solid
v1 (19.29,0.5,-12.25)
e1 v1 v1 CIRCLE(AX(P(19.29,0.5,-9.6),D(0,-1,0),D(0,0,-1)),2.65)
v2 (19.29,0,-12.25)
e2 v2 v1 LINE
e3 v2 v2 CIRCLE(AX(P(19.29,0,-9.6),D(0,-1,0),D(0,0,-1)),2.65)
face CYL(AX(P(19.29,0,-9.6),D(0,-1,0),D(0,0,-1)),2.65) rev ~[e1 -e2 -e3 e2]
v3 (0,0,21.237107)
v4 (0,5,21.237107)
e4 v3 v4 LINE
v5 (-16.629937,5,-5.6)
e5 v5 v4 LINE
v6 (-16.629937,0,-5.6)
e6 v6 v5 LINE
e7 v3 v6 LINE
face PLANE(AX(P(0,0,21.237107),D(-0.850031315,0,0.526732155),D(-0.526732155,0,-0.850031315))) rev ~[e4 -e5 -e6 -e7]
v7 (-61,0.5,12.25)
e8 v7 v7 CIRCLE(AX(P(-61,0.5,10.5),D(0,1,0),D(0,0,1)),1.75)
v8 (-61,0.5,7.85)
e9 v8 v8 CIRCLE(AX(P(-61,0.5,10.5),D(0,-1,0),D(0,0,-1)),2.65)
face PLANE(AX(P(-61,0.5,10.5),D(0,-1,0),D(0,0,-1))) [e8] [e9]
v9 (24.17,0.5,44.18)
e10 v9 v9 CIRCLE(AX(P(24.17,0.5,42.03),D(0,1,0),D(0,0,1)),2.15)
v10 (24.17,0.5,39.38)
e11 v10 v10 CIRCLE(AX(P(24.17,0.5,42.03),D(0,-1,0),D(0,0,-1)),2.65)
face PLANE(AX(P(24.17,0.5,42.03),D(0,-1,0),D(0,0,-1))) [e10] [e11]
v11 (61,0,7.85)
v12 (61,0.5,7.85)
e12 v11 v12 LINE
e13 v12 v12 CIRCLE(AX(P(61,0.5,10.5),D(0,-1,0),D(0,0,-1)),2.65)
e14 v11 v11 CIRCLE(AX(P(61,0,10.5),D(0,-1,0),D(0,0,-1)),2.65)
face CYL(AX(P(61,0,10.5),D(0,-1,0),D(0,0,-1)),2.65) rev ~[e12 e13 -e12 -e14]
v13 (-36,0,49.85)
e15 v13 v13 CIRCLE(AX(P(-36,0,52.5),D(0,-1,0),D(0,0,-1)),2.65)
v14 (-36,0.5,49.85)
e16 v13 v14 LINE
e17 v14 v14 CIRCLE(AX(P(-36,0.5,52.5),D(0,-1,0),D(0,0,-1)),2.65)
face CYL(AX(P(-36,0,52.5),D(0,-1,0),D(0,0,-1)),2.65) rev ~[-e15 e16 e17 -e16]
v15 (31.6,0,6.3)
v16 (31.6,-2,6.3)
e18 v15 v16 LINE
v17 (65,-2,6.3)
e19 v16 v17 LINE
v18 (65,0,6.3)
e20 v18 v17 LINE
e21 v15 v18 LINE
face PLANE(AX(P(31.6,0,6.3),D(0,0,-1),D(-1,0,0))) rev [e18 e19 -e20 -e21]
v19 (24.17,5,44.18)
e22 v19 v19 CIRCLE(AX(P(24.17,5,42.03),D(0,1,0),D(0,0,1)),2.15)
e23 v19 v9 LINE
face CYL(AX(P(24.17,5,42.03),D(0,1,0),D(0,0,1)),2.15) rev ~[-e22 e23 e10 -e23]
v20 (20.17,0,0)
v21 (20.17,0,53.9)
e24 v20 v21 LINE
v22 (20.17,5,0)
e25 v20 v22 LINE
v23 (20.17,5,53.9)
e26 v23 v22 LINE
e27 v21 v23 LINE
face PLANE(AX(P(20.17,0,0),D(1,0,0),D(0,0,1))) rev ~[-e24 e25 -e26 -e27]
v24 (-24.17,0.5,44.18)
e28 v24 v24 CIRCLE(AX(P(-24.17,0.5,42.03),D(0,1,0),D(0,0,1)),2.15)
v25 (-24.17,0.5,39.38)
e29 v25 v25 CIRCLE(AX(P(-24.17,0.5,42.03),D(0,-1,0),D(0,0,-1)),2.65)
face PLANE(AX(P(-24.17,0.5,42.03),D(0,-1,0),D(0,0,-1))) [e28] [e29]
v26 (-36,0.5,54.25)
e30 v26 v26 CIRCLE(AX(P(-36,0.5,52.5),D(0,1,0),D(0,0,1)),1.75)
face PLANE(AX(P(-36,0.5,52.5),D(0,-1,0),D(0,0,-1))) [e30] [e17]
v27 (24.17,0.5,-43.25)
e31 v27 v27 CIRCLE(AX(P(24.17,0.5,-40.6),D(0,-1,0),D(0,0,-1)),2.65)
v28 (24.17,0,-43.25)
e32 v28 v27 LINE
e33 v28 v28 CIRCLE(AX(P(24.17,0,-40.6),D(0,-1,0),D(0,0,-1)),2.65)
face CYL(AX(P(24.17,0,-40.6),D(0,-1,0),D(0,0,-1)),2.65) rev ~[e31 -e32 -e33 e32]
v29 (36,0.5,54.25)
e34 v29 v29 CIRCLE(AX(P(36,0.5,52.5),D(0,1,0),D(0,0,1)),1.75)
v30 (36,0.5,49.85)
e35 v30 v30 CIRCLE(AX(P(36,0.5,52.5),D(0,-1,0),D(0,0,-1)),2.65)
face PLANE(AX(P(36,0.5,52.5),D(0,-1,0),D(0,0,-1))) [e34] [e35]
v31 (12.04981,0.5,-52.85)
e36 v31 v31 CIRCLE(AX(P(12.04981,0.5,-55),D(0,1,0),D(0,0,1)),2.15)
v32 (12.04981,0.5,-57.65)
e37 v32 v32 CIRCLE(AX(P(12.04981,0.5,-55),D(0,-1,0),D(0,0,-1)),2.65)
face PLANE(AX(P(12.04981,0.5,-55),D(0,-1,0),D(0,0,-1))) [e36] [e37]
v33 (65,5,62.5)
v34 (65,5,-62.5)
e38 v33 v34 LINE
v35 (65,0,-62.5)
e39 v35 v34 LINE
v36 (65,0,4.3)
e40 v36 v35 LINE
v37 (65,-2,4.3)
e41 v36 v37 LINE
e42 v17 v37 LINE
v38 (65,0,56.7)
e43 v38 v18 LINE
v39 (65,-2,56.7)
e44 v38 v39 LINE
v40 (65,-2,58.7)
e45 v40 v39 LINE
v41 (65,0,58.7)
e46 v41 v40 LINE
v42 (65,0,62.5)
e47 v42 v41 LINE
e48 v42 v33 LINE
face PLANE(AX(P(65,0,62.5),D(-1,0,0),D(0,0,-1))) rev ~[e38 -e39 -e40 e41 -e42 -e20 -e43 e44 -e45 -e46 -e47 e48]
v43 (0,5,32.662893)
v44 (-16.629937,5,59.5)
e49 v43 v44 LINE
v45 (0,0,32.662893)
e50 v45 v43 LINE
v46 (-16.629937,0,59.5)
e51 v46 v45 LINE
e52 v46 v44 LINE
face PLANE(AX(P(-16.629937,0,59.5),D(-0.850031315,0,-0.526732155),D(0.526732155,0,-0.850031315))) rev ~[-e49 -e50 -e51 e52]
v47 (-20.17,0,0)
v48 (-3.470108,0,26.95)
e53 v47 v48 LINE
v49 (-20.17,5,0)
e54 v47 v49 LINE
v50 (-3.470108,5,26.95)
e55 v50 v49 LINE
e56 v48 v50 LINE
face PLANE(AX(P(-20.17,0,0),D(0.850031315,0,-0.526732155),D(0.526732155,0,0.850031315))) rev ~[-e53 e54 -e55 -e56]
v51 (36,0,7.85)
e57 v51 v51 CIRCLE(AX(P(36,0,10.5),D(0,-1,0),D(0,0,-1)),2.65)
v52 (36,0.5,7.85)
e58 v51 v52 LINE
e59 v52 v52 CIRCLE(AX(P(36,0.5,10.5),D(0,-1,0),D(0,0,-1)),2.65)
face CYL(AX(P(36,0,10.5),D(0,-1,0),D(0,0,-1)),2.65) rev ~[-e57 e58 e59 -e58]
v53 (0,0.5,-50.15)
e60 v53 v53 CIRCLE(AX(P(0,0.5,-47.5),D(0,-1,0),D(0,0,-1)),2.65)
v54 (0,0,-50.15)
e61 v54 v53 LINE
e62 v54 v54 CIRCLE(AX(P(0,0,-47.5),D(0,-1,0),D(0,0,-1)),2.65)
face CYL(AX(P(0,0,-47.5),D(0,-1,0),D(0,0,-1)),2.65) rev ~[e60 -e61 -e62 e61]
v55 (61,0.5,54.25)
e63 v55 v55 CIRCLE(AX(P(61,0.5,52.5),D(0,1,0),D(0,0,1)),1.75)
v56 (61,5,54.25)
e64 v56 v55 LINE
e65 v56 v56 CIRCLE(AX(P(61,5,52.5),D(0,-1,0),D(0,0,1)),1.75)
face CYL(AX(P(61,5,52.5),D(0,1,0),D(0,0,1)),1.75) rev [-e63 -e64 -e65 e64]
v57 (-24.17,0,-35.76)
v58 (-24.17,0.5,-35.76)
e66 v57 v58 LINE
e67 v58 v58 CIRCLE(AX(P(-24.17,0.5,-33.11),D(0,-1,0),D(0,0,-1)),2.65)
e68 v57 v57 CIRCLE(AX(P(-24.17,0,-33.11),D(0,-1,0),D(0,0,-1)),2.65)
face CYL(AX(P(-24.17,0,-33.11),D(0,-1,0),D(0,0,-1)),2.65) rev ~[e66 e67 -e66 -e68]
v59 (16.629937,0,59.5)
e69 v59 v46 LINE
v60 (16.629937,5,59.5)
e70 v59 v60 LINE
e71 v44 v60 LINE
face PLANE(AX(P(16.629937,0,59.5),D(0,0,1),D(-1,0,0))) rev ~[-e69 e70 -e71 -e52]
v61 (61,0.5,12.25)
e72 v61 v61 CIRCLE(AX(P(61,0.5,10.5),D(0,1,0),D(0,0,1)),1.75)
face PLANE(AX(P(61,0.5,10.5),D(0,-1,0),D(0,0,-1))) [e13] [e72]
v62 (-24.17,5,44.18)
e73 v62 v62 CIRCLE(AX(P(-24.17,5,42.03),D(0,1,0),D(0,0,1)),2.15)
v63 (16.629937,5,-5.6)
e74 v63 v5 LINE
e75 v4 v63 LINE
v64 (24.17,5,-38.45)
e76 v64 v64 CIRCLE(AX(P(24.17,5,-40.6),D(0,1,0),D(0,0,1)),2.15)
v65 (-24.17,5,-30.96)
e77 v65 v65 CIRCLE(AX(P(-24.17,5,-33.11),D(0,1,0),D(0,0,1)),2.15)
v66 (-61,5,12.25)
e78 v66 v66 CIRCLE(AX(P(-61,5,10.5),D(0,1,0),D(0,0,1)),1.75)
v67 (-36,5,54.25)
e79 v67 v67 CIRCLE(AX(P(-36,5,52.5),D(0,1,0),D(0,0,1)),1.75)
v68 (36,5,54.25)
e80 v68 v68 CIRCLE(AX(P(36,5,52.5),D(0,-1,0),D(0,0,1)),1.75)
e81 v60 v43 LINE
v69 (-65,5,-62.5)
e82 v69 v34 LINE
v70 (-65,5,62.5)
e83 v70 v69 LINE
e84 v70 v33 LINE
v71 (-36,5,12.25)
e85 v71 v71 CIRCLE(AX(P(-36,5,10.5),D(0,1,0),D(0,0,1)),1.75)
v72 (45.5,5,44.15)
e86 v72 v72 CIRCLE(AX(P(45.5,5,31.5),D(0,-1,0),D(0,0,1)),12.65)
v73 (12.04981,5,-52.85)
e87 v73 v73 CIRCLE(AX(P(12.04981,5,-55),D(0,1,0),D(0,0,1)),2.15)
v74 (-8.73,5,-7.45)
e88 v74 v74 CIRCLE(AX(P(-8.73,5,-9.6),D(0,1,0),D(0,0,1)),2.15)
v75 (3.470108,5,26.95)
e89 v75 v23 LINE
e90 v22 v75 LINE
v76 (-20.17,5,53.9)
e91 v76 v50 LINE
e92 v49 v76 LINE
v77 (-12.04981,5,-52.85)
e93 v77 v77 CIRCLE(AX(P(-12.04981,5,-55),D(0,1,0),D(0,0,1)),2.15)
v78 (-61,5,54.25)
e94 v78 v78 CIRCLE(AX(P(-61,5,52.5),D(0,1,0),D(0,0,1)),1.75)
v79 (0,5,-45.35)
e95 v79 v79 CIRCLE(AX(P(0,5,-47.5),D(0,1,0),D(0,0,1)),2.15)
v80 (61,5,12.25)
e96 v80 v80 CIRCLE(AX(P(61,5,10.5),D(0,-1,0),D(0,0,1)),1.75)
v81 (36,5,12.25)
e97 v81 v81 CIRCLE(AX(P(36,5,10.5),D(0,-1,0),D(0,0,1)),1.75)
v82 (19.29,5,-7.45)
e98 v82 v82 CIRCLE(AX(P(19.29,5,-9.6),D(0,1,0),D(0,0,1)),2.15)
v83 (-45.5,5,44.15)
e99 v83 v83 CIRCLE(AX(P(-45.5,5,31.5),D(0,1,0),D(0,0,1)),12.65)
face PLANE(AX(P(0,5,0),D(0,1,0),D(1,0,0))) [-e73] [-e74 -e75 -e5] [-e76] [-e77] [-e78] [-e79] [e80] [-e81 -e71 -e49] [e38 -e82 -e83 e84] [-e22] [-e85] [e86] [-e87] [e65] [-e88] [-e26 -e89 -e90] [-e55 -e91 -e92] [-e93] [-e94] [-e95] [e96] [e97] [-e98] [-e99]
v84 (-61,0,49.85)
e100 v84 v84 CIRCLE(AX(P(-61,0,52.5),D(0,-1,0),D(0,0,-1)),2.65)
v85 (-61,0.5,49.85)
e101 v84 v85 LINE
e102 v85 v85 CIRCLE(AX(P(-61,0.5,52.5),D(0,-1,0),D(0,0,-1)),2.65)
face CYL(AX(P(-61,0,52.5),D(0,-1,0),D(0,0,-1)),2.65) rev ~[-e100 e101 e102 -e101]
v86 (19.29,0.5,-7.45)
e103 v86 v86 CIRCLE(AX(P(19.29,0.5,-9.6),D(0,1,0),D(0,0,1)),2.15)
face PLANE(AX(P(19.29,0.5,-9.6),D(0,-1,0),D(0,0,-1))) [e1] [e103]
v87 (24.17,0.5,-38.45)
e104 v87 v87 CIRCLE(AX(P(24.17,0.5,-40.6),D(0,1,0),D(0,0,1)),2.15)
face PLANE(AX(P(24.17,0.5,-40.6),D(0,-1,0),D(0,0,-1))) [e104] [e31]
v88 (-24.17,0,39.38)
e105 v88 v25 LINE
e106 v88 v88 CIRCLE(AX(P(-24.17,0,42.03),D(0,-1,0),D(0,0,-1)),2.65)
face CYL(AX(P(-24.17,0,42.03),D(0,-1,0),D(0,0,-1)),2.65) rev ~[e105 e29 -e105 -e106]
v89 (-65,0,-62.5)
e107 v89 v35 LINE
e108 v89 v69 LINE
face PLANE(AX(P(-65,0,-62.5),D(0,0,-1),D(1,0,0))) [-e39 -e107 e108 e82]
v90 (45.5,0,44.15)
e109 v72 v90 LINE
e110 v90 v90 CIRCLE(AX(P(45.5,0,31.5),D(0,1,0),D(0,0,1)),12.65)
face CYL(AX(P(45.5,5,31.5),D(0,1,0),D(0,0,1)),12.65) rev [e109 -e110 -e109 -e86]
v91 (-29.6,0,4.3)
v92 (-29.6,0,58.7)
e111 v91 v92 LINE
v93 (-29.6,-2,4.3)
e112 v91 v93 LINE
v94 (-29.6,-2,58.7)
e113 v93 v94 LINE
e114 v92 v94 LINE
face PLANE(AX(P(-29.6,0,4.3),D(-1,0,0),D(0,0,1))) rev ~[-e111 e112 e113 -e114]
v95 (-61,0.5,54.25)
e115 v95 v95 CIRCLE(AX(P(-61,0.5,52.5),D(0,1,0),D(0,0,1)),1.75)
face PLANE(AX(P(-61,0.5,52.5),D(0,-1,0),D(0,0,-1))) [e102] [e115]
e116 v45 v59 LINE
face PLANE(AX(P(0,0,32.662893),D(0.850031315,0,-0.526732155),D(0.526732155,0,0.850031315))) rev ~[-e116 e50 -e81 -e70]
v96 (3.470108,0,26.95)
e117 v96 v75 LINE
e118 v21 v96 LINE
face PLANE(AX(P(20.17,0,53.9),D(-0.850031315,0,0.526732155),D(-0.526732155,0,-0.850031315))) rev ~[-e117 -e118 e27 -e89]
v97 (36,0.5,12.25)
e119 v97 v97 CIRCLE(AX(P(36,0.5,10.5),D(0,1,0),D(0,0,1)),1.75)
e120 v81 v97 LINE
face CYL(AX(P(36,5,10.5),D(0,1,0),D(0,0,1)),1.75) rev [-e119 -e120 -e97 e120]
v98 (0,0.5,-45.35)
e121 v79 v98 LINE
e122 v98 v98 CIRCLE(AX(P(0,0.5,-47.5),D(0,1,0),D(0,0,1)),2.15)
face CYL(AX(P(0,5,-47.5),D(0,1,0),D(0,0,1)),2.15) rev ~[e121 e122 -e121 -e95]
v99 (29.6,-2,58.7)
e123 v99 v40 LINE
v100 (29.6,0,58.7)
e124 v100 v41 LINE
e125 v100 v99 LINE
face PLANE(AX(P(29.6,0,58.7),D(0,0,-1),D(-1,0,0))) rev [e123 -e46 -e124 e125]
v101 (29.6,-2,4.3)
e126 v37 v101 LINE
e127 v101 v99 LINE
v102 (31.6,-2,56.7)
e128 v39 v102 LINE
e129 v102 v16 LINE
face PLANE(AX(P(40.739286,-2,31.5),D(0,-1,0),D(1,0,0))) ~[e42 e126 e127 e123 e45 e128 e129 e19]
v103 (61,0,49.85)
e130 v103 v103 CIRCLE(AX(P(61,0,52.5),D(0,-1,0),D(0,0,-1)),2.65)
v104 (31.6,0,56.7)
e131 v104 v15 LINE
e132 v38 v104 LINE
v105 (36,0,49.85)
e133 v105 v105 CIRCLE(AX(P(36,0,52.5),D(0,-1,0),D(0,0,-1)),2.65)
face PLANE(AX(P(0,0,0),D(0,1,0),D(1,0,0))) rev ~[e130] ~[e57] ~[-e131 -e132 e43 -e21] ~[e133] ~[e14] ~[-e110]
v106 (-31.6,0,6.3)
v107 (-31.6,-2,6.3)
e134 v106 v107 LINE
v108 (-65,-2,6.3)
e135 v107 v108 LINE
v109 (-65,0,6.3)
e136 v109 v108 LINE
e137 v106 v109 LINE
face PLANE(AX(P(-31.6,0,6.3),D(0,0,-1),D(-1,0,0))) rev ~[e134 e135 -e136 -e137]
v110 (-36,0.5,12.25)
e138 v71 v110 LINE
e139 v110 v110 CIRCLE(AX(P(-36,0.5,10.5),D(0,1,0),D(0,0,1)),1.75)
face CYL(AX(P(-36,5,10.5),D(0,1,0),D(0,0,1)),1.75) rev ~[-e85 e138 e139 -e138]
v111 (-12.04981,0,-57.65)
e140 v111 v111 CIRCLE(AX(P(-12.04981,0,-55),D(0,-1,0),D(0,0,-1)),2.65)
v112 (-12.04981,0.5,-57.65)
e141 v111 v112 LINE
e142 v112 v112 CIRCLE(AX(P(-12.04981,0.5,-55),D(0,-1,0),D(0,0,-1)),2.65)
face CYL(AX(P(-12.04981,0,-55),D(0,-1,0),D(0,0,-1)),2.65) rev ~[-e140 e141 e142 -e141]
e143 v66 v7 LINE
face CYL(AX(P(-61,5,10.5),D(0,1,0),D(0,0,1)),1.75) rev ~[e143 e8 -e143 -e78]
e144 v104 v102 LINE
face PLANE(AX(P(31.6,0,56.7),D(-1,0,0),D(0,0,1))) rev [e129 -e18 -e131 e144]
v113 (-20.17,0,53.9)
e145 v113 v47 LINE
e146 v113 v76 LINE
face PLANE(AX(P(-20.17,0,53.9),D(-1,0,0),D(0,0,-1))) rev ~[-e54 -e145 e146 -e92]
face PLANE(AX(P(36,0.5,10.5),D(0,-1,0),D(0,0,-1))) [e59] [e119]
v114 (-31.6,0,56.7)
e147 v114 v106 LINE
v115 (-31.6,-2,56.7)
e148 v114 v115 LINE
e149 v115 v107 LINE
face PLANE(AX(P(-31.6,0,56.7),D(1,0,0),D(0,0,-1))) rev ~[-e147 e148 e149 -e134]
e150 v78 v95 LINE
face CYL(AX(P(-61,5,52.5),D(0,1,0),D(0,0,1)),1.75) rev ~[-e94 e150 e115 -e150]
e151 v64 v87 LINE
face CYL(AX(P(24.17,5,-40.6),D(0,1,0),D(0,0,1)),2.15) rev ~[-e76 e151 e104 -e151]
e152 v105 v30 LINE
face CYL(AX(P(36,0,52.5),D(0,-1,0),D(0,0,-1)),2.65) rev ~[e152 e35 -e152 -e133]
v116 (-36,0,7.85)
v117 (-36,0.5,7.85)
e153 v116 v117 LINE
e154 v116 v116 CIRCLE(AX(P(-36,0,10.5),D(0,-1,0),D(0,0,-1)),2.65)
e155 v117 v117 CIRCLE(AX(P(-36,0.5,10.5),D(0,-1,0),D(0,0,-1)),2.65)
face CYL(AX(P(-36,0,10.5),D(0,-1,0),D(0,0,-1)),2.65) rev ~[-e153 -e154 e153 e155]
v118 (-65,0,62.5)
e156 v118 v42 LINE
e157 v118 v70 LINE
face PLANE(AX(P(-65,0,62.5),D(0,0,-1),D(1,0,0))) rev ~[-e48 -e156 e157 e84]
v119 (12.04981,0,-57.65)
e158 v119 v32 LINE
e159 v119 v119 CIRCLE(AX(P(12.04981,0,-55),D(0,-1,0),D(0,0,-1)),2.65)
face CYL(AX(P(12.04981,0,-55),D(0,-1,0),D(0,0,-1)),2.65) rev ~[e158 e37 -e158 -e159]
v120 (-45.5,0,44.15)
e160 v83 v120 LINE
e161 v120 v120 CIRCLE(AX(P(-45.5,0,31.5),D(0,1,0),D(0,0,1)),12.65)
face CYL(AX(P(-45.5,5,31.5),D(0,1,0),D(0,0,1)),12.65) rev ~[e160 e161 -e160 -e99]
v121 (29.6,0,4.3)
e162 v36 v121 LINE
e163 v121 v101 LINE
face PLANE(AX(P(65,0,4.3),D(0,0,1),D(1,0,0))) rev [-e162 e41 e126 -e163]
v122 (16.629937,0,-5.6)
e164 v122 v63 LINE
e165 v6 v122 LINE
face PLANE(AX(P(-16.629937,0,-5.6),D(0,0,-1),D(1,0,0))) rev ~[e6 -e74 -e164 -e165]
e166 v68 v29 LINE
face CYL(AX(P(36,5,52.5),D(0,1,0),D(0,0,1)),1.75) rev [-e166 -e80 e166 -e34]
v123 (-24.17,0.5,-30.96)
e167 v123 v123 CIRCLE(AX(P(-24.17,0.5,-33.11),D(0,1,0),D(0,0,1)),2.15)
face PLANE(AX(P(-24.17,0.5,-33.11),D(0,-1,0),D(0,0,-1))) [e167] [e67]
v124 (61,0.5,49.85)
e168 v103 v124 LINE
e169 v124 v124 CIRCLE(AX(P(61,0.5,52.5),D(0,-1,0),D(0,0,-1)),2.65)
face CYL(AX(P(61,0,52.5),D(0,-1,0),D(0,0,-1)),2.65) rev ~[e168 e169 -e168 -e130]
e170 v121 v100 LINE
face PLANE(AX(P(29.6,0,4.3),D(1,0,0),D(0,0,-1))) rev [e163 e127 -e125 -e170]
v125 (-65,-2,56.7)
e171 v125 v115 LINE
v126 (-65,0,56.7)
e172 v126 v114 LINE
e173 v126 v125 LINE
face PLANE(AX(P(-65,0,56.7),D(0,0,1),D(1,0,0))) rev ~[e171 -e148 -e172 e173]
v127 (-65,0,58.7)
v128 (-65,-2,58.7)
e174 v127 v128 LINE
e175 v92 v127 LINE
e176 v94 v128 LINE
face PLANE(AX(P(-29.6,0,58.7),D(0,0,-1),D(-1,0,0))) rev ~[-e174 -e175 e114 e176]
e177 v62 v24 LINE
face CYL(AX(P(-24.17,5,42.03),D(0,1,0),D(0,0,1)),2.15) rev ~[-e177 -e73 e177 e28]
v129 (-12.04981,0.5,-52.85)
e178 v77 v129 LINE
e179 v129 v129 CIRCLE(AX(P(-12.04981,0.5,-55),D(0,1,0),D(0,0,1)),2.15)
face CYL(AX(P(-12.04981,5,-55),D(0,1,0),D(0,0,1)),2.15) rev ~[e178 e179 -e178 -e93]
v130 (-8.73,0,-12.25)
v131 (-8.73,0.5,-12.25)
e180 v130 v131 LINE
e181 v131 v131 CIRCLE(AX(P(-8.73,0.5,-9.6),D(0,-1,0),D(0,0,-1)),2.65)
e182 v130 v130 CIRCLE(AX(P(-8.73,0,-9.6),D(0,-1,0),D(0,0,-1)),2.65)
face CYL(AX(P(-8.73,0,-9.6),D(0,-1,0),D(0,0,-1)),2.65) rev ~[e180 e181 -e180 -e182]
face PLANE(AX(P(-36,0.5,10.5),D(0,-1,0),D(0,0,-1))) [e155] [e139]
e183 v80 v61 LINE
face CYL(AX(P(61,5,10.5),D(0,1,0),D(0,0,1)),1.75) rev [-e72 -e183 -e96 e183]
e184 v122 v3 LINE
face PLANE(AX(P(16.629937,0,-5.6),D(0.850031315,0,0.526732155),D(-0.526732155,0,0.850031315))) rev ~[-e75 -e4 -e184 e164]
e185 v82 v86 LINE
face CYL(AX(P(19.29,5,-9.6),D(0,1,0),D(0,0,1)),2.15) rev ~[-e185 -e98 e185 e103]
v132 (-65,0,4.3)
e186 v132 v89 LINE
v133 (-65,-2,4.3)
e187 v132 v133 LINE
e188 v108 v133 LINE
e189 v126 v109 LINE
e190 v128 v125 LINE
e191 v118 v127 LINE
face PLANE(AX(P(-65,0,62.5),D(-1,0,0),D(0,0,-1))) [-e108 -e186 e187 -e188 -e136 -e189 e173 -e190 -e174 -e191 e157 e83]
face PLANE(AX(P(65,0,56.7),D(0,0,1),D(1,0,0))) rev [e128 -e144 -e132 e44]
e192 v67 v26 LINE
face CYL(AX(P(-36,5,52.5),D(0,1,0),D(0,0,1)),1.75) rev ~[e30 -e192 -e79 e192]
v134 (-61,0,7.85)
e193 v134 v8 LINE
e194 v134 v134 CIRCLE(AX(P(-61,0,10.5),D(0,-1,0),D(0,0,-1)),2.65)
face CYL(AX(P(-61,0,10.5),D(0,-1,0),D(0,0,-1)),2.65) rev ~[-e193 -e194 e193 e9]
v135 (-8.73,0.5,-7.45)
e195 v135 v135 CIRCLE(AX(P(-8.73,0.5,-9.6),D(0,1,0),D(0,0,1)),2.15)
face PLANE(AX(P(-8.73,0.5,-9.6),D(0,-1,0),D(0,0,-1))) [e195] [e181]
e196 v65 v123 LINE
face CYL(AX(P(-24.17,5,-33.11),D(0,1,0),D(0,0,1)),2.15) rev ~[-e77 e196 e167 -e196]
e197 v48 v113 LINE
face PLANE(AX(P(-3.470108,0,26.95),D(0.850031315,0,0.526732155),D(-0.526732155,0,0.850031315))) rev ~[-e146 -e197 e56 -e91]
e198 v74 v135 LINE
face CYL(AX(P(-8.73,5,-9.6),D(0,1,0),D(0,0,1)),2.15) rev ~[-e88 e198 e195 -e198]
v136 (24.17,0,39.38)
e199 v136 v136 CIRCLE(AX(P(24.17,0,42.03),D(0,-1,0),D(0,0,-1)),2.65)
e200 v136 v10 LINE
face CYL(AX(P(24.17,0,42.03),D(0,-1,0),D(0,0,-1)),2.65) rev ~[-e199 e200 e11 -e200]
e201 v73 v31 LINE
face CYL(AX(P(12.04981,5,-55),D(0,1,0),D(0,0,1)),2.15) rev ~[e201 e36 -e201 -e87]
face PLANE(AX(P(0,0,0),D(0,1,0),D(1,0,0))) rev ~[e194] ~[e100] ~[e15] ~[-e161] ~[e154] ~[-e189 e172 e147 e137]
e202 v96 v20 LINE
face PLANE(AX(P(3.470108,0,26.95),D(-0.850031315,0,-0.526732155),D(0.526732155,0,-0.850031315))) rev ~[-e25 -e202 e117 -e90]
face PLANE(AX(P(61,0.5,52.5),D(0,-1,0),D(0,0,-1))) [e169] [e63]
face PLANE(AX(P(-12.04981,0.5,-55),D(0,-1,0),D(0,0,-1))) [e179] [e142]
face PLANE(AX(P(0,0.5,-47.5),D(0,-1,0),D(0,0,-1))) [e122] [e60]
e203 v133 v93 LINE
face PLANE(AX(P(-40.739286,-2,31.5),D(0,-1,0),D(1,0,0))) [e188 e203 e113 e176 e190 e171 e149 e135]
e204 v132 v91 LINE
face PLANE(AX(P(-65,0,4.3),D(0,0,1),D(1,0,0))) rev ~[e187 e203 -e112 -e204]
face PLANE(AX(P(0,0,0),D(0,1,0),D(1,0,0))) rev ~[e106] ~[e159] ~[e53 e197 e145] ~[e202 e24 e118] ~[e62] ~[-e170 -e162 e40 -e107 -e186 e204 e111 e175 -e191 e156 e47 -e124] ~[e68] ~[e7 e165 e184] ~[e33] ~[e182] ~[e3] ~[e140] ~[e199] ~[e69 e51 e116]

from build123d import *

# Parameters (mm, degrees)
SKETCH1_W           = 130
SKETCH1_H           = 125
BOSS_EXTRUDE1_DEPTH = 5
SKETCH2_R           = 1.75
SKETCH2_R_2         = 12.65
CUT_EXTRUDE1_DEPTH  = 10
SKETCH3_R           = 2.15
CUT_EXTRUDE2_DEPTH  = 10
SKETCH4_R           = 2.15
CUT_EXTRUDE3_DEPTH  = 10
BOSS_EXTRUDE2_DEPTH = 2
SKETCH6_R           = 2.65
CUT_EXTRUDE4_DEPTH  = 0.5
CUT_EXTRUDE5_DEPTH  = 91.311959341


with BuildPart() as part:
    # Sketch1 → Boss-Extrude1 (new body)
    with BuildSketch(Plane(origin=(0, 0, 0), x_dir=(1, 0, 0), z_dir=(0, 1, 0))):
        Rectangle(SKETCH1_W, SKETCH1_H)
    extrude(amount=BOSS_EXTRUDE1_DEPTH)

    # Sketch2 → Cut-Extrude1 (cut)
    with BuildSketch(Plane(origin=(0, 5, 0), x_dir=(1, 0, 0), z_dir=(0, 1, 0))):
        with Locations(Location((-61, -52.5, 0), (0, 0, 270))):
            Circle(SKETCH2_R)
        with Locations(Location((-36, -52.5, 0), (0, 0, 270))):
            Circle(SKETCH2_R)
        with Locations(Location((-36, -10.5, 0), (0, 0, 270))):
            Circle(SKETCH2_R)
        with Locations(Location((-61, -10.5, 0), (0, 0, 270))):
            Circle(SKETCH2_R)
        with Locations(Location((-45.5, -31.5, 0), (0, 0, 270))):
            Circle(SKETCH2_R_2)
    cut_extrude1 = extrude(amount=-CUT_EXTRUDE1_DEPTH, mode=Mode.SUBTRACT)

    # Mirror3: Cut-Extrude1 across plane
    add(cut_extrude1.mirror(Plane.ZY), mode=Mode.SUBTRACT)

    # Sketch3 → Cut-Extrude2 (cut)
    with BuildSketch(Plane(origin=(0, 5, 0), x_dir=(1, 0, 0), z_dir=(0, 1, 0))):
        with Locations(Location((-24.17, -42.03, 0), (0, 0, 270))):
            Circle(SKETCH3_R)
        with Locations(Location((24.17, -42.03, 0), (0, 0, 270))):
            Circle(SKETCH3_R)
        with Locations(Location((-8.73, 9.6, 0), (0, 0, 270))):
            Circle(SKETCH3_R)
        with Locations(Location((19.29, 9.6, 0), (0, 0, 270))):
            Circle(SKETCH3_R)
        with Locations(Location((-24.17, 33.11, 0), (0, 0, 270))):
            Circle(SKETCH3_R)
        with Locations(Location((24.17, 40.6, 0), (0, 0, 270))):
            Circle(SKETCH3_R)
    extrude(amount=-CUT_EXTRUDE2_DEPTH, mode=Mode.SUBTRACT)

    # Sketch4 → Cut-Extrude3 (cut)
    with BuildSketch(Plane(origin=(0, 5, 0), x_dir=(1, 0, 0), z_dir=(0, 1, 0))):
        with Locations(Location((0, 47.5, 0), (0, 0, 270))):
            Circle(SKETCH4_R)
        with Locations(Location((12.049810205, 55, 0), (0, 0, 270))):
            Circle(SKETCH4_R)
        with Locations(Location((-12.049810205, 55, 0), (0, 0, 270))):
            Circle(SKETCH4_R)
    extrude(amount=-CUT_EXTRUDE3_DEPTH, mode=Mode.SUBTRACT)

    # Sketch5 → Boss-Extrude2 (add)
    with BuildSketch(Plane.XZ):
        Polygon((-65, 58.7), (-65, 56.7), (-31.6, 56.7), (-31.6, 6.3), (-65, 6.3), (-65, 4.3), (-29.6, 4.3), (-29.6, 58.7), align=None)
    boss_extrude2 = extrude(amount=BOSS_EXTRUDE2_DEPTH)

    # Mirror5: Boss-Extrude2 across plane
    add(boss_extrude2.mirror(Plane.ZY))

    # Sketch6 → Cut-Extrude4 (cut)
    with BuildSketch(Plane.XZ):
        with Locations(Location((-12.049810205, -55, 0), (0, 0, 270))):
            Circle(SKETCH6_R)
        with Locations(Location((12.049810205, -55, 0), (0, 0, 270))):
            Circle(SKETCH6_R)
        with Locations(Location((0, -47.5, 0), (0, 0, 270))):
            Circle(SKETCH6_R)
        with Locations(Location((24.17, -40.6, 0), (0, 0, 270))):
            Circle(SKETCH6_R)
        with Locations(Location((-24.17, -33.11, 0), (0, 0, 270))):
            Circle(SKETCH6_R)
        with Locations(Location((-8.73, -9.6, 0), (0, 0, 270))):
            Circle(SKETCH6_R)
        with Locations(Location((19.29, -9.6, 0), (0, 0, 270))):
            Circle(SKETCH6_R)
        with Locations(Location((-61, 10.5, 0), (0, 0, 270))):
            Circle(SKETCH6_R)
        with Locations(Location((-61, 52.5, 0), (0, 0, 270))):
            Circle(SKETCH6_R)
        with Locations(Location((-36, 52.5, 0), (0, 0, 270))):
            Circle(SKETCH6_R)
        with Locations(Location((-36, 10.5, 0), (0, 0, 270))):
            Circle(SKETCH6_R)
        with Locations(Location((-24.17, 42.03, 0), (0, 0, 270))):
            Circle(SKETCH6_R)
        with Locations(Location((24.17, 42.03, 0), (0, 0, 270))):
            Circle(SKETCH6_R)
        with Locations(Location((36, 52.5, 0), (0, 0, 270))):
            Circle(SKETCH6_R)
        with Locations(Location((36, 10.5, 0), (0, 0, 270))):
            Circle(SKETCH6_R)
        with Locations(Location((61, 10.5, 0), (0, 0, 270))):
            Circle(SKETCH6_R)
        with Locations(Location((61, 52.5, 0), (0, 0, 270))):
            Circle(SKETCH6_R)
    extrude(amount=-CUT_EXTRUDE4_DEPTH, mode=Mode.SUBTRACT)

    # Sketch7 → Cut-Extrude5 (cut, through all)
    with BuildSketch(Plane.XZ):
        Polygon((-3.470107527, 26.95), (-20.17, 53.9), (-20.17, 0), align=None)
        Polygon((16.629937096, 59.5), (-16.629937096, 59.5), (0, 32.662892788), align=None)
        Polygon((20.17, 0), (20.17, 53.9), (3.470107527, 26.95), align=None)
        Polygon((0, 21.237107212), (-16.629937096, -5.6), (16.629937096, -5.6), align=None)
    extrude(amount=-CUT_EXTRUDE5_DEPTH, mode=Mode.SUBTRACT)


solid = part.part
